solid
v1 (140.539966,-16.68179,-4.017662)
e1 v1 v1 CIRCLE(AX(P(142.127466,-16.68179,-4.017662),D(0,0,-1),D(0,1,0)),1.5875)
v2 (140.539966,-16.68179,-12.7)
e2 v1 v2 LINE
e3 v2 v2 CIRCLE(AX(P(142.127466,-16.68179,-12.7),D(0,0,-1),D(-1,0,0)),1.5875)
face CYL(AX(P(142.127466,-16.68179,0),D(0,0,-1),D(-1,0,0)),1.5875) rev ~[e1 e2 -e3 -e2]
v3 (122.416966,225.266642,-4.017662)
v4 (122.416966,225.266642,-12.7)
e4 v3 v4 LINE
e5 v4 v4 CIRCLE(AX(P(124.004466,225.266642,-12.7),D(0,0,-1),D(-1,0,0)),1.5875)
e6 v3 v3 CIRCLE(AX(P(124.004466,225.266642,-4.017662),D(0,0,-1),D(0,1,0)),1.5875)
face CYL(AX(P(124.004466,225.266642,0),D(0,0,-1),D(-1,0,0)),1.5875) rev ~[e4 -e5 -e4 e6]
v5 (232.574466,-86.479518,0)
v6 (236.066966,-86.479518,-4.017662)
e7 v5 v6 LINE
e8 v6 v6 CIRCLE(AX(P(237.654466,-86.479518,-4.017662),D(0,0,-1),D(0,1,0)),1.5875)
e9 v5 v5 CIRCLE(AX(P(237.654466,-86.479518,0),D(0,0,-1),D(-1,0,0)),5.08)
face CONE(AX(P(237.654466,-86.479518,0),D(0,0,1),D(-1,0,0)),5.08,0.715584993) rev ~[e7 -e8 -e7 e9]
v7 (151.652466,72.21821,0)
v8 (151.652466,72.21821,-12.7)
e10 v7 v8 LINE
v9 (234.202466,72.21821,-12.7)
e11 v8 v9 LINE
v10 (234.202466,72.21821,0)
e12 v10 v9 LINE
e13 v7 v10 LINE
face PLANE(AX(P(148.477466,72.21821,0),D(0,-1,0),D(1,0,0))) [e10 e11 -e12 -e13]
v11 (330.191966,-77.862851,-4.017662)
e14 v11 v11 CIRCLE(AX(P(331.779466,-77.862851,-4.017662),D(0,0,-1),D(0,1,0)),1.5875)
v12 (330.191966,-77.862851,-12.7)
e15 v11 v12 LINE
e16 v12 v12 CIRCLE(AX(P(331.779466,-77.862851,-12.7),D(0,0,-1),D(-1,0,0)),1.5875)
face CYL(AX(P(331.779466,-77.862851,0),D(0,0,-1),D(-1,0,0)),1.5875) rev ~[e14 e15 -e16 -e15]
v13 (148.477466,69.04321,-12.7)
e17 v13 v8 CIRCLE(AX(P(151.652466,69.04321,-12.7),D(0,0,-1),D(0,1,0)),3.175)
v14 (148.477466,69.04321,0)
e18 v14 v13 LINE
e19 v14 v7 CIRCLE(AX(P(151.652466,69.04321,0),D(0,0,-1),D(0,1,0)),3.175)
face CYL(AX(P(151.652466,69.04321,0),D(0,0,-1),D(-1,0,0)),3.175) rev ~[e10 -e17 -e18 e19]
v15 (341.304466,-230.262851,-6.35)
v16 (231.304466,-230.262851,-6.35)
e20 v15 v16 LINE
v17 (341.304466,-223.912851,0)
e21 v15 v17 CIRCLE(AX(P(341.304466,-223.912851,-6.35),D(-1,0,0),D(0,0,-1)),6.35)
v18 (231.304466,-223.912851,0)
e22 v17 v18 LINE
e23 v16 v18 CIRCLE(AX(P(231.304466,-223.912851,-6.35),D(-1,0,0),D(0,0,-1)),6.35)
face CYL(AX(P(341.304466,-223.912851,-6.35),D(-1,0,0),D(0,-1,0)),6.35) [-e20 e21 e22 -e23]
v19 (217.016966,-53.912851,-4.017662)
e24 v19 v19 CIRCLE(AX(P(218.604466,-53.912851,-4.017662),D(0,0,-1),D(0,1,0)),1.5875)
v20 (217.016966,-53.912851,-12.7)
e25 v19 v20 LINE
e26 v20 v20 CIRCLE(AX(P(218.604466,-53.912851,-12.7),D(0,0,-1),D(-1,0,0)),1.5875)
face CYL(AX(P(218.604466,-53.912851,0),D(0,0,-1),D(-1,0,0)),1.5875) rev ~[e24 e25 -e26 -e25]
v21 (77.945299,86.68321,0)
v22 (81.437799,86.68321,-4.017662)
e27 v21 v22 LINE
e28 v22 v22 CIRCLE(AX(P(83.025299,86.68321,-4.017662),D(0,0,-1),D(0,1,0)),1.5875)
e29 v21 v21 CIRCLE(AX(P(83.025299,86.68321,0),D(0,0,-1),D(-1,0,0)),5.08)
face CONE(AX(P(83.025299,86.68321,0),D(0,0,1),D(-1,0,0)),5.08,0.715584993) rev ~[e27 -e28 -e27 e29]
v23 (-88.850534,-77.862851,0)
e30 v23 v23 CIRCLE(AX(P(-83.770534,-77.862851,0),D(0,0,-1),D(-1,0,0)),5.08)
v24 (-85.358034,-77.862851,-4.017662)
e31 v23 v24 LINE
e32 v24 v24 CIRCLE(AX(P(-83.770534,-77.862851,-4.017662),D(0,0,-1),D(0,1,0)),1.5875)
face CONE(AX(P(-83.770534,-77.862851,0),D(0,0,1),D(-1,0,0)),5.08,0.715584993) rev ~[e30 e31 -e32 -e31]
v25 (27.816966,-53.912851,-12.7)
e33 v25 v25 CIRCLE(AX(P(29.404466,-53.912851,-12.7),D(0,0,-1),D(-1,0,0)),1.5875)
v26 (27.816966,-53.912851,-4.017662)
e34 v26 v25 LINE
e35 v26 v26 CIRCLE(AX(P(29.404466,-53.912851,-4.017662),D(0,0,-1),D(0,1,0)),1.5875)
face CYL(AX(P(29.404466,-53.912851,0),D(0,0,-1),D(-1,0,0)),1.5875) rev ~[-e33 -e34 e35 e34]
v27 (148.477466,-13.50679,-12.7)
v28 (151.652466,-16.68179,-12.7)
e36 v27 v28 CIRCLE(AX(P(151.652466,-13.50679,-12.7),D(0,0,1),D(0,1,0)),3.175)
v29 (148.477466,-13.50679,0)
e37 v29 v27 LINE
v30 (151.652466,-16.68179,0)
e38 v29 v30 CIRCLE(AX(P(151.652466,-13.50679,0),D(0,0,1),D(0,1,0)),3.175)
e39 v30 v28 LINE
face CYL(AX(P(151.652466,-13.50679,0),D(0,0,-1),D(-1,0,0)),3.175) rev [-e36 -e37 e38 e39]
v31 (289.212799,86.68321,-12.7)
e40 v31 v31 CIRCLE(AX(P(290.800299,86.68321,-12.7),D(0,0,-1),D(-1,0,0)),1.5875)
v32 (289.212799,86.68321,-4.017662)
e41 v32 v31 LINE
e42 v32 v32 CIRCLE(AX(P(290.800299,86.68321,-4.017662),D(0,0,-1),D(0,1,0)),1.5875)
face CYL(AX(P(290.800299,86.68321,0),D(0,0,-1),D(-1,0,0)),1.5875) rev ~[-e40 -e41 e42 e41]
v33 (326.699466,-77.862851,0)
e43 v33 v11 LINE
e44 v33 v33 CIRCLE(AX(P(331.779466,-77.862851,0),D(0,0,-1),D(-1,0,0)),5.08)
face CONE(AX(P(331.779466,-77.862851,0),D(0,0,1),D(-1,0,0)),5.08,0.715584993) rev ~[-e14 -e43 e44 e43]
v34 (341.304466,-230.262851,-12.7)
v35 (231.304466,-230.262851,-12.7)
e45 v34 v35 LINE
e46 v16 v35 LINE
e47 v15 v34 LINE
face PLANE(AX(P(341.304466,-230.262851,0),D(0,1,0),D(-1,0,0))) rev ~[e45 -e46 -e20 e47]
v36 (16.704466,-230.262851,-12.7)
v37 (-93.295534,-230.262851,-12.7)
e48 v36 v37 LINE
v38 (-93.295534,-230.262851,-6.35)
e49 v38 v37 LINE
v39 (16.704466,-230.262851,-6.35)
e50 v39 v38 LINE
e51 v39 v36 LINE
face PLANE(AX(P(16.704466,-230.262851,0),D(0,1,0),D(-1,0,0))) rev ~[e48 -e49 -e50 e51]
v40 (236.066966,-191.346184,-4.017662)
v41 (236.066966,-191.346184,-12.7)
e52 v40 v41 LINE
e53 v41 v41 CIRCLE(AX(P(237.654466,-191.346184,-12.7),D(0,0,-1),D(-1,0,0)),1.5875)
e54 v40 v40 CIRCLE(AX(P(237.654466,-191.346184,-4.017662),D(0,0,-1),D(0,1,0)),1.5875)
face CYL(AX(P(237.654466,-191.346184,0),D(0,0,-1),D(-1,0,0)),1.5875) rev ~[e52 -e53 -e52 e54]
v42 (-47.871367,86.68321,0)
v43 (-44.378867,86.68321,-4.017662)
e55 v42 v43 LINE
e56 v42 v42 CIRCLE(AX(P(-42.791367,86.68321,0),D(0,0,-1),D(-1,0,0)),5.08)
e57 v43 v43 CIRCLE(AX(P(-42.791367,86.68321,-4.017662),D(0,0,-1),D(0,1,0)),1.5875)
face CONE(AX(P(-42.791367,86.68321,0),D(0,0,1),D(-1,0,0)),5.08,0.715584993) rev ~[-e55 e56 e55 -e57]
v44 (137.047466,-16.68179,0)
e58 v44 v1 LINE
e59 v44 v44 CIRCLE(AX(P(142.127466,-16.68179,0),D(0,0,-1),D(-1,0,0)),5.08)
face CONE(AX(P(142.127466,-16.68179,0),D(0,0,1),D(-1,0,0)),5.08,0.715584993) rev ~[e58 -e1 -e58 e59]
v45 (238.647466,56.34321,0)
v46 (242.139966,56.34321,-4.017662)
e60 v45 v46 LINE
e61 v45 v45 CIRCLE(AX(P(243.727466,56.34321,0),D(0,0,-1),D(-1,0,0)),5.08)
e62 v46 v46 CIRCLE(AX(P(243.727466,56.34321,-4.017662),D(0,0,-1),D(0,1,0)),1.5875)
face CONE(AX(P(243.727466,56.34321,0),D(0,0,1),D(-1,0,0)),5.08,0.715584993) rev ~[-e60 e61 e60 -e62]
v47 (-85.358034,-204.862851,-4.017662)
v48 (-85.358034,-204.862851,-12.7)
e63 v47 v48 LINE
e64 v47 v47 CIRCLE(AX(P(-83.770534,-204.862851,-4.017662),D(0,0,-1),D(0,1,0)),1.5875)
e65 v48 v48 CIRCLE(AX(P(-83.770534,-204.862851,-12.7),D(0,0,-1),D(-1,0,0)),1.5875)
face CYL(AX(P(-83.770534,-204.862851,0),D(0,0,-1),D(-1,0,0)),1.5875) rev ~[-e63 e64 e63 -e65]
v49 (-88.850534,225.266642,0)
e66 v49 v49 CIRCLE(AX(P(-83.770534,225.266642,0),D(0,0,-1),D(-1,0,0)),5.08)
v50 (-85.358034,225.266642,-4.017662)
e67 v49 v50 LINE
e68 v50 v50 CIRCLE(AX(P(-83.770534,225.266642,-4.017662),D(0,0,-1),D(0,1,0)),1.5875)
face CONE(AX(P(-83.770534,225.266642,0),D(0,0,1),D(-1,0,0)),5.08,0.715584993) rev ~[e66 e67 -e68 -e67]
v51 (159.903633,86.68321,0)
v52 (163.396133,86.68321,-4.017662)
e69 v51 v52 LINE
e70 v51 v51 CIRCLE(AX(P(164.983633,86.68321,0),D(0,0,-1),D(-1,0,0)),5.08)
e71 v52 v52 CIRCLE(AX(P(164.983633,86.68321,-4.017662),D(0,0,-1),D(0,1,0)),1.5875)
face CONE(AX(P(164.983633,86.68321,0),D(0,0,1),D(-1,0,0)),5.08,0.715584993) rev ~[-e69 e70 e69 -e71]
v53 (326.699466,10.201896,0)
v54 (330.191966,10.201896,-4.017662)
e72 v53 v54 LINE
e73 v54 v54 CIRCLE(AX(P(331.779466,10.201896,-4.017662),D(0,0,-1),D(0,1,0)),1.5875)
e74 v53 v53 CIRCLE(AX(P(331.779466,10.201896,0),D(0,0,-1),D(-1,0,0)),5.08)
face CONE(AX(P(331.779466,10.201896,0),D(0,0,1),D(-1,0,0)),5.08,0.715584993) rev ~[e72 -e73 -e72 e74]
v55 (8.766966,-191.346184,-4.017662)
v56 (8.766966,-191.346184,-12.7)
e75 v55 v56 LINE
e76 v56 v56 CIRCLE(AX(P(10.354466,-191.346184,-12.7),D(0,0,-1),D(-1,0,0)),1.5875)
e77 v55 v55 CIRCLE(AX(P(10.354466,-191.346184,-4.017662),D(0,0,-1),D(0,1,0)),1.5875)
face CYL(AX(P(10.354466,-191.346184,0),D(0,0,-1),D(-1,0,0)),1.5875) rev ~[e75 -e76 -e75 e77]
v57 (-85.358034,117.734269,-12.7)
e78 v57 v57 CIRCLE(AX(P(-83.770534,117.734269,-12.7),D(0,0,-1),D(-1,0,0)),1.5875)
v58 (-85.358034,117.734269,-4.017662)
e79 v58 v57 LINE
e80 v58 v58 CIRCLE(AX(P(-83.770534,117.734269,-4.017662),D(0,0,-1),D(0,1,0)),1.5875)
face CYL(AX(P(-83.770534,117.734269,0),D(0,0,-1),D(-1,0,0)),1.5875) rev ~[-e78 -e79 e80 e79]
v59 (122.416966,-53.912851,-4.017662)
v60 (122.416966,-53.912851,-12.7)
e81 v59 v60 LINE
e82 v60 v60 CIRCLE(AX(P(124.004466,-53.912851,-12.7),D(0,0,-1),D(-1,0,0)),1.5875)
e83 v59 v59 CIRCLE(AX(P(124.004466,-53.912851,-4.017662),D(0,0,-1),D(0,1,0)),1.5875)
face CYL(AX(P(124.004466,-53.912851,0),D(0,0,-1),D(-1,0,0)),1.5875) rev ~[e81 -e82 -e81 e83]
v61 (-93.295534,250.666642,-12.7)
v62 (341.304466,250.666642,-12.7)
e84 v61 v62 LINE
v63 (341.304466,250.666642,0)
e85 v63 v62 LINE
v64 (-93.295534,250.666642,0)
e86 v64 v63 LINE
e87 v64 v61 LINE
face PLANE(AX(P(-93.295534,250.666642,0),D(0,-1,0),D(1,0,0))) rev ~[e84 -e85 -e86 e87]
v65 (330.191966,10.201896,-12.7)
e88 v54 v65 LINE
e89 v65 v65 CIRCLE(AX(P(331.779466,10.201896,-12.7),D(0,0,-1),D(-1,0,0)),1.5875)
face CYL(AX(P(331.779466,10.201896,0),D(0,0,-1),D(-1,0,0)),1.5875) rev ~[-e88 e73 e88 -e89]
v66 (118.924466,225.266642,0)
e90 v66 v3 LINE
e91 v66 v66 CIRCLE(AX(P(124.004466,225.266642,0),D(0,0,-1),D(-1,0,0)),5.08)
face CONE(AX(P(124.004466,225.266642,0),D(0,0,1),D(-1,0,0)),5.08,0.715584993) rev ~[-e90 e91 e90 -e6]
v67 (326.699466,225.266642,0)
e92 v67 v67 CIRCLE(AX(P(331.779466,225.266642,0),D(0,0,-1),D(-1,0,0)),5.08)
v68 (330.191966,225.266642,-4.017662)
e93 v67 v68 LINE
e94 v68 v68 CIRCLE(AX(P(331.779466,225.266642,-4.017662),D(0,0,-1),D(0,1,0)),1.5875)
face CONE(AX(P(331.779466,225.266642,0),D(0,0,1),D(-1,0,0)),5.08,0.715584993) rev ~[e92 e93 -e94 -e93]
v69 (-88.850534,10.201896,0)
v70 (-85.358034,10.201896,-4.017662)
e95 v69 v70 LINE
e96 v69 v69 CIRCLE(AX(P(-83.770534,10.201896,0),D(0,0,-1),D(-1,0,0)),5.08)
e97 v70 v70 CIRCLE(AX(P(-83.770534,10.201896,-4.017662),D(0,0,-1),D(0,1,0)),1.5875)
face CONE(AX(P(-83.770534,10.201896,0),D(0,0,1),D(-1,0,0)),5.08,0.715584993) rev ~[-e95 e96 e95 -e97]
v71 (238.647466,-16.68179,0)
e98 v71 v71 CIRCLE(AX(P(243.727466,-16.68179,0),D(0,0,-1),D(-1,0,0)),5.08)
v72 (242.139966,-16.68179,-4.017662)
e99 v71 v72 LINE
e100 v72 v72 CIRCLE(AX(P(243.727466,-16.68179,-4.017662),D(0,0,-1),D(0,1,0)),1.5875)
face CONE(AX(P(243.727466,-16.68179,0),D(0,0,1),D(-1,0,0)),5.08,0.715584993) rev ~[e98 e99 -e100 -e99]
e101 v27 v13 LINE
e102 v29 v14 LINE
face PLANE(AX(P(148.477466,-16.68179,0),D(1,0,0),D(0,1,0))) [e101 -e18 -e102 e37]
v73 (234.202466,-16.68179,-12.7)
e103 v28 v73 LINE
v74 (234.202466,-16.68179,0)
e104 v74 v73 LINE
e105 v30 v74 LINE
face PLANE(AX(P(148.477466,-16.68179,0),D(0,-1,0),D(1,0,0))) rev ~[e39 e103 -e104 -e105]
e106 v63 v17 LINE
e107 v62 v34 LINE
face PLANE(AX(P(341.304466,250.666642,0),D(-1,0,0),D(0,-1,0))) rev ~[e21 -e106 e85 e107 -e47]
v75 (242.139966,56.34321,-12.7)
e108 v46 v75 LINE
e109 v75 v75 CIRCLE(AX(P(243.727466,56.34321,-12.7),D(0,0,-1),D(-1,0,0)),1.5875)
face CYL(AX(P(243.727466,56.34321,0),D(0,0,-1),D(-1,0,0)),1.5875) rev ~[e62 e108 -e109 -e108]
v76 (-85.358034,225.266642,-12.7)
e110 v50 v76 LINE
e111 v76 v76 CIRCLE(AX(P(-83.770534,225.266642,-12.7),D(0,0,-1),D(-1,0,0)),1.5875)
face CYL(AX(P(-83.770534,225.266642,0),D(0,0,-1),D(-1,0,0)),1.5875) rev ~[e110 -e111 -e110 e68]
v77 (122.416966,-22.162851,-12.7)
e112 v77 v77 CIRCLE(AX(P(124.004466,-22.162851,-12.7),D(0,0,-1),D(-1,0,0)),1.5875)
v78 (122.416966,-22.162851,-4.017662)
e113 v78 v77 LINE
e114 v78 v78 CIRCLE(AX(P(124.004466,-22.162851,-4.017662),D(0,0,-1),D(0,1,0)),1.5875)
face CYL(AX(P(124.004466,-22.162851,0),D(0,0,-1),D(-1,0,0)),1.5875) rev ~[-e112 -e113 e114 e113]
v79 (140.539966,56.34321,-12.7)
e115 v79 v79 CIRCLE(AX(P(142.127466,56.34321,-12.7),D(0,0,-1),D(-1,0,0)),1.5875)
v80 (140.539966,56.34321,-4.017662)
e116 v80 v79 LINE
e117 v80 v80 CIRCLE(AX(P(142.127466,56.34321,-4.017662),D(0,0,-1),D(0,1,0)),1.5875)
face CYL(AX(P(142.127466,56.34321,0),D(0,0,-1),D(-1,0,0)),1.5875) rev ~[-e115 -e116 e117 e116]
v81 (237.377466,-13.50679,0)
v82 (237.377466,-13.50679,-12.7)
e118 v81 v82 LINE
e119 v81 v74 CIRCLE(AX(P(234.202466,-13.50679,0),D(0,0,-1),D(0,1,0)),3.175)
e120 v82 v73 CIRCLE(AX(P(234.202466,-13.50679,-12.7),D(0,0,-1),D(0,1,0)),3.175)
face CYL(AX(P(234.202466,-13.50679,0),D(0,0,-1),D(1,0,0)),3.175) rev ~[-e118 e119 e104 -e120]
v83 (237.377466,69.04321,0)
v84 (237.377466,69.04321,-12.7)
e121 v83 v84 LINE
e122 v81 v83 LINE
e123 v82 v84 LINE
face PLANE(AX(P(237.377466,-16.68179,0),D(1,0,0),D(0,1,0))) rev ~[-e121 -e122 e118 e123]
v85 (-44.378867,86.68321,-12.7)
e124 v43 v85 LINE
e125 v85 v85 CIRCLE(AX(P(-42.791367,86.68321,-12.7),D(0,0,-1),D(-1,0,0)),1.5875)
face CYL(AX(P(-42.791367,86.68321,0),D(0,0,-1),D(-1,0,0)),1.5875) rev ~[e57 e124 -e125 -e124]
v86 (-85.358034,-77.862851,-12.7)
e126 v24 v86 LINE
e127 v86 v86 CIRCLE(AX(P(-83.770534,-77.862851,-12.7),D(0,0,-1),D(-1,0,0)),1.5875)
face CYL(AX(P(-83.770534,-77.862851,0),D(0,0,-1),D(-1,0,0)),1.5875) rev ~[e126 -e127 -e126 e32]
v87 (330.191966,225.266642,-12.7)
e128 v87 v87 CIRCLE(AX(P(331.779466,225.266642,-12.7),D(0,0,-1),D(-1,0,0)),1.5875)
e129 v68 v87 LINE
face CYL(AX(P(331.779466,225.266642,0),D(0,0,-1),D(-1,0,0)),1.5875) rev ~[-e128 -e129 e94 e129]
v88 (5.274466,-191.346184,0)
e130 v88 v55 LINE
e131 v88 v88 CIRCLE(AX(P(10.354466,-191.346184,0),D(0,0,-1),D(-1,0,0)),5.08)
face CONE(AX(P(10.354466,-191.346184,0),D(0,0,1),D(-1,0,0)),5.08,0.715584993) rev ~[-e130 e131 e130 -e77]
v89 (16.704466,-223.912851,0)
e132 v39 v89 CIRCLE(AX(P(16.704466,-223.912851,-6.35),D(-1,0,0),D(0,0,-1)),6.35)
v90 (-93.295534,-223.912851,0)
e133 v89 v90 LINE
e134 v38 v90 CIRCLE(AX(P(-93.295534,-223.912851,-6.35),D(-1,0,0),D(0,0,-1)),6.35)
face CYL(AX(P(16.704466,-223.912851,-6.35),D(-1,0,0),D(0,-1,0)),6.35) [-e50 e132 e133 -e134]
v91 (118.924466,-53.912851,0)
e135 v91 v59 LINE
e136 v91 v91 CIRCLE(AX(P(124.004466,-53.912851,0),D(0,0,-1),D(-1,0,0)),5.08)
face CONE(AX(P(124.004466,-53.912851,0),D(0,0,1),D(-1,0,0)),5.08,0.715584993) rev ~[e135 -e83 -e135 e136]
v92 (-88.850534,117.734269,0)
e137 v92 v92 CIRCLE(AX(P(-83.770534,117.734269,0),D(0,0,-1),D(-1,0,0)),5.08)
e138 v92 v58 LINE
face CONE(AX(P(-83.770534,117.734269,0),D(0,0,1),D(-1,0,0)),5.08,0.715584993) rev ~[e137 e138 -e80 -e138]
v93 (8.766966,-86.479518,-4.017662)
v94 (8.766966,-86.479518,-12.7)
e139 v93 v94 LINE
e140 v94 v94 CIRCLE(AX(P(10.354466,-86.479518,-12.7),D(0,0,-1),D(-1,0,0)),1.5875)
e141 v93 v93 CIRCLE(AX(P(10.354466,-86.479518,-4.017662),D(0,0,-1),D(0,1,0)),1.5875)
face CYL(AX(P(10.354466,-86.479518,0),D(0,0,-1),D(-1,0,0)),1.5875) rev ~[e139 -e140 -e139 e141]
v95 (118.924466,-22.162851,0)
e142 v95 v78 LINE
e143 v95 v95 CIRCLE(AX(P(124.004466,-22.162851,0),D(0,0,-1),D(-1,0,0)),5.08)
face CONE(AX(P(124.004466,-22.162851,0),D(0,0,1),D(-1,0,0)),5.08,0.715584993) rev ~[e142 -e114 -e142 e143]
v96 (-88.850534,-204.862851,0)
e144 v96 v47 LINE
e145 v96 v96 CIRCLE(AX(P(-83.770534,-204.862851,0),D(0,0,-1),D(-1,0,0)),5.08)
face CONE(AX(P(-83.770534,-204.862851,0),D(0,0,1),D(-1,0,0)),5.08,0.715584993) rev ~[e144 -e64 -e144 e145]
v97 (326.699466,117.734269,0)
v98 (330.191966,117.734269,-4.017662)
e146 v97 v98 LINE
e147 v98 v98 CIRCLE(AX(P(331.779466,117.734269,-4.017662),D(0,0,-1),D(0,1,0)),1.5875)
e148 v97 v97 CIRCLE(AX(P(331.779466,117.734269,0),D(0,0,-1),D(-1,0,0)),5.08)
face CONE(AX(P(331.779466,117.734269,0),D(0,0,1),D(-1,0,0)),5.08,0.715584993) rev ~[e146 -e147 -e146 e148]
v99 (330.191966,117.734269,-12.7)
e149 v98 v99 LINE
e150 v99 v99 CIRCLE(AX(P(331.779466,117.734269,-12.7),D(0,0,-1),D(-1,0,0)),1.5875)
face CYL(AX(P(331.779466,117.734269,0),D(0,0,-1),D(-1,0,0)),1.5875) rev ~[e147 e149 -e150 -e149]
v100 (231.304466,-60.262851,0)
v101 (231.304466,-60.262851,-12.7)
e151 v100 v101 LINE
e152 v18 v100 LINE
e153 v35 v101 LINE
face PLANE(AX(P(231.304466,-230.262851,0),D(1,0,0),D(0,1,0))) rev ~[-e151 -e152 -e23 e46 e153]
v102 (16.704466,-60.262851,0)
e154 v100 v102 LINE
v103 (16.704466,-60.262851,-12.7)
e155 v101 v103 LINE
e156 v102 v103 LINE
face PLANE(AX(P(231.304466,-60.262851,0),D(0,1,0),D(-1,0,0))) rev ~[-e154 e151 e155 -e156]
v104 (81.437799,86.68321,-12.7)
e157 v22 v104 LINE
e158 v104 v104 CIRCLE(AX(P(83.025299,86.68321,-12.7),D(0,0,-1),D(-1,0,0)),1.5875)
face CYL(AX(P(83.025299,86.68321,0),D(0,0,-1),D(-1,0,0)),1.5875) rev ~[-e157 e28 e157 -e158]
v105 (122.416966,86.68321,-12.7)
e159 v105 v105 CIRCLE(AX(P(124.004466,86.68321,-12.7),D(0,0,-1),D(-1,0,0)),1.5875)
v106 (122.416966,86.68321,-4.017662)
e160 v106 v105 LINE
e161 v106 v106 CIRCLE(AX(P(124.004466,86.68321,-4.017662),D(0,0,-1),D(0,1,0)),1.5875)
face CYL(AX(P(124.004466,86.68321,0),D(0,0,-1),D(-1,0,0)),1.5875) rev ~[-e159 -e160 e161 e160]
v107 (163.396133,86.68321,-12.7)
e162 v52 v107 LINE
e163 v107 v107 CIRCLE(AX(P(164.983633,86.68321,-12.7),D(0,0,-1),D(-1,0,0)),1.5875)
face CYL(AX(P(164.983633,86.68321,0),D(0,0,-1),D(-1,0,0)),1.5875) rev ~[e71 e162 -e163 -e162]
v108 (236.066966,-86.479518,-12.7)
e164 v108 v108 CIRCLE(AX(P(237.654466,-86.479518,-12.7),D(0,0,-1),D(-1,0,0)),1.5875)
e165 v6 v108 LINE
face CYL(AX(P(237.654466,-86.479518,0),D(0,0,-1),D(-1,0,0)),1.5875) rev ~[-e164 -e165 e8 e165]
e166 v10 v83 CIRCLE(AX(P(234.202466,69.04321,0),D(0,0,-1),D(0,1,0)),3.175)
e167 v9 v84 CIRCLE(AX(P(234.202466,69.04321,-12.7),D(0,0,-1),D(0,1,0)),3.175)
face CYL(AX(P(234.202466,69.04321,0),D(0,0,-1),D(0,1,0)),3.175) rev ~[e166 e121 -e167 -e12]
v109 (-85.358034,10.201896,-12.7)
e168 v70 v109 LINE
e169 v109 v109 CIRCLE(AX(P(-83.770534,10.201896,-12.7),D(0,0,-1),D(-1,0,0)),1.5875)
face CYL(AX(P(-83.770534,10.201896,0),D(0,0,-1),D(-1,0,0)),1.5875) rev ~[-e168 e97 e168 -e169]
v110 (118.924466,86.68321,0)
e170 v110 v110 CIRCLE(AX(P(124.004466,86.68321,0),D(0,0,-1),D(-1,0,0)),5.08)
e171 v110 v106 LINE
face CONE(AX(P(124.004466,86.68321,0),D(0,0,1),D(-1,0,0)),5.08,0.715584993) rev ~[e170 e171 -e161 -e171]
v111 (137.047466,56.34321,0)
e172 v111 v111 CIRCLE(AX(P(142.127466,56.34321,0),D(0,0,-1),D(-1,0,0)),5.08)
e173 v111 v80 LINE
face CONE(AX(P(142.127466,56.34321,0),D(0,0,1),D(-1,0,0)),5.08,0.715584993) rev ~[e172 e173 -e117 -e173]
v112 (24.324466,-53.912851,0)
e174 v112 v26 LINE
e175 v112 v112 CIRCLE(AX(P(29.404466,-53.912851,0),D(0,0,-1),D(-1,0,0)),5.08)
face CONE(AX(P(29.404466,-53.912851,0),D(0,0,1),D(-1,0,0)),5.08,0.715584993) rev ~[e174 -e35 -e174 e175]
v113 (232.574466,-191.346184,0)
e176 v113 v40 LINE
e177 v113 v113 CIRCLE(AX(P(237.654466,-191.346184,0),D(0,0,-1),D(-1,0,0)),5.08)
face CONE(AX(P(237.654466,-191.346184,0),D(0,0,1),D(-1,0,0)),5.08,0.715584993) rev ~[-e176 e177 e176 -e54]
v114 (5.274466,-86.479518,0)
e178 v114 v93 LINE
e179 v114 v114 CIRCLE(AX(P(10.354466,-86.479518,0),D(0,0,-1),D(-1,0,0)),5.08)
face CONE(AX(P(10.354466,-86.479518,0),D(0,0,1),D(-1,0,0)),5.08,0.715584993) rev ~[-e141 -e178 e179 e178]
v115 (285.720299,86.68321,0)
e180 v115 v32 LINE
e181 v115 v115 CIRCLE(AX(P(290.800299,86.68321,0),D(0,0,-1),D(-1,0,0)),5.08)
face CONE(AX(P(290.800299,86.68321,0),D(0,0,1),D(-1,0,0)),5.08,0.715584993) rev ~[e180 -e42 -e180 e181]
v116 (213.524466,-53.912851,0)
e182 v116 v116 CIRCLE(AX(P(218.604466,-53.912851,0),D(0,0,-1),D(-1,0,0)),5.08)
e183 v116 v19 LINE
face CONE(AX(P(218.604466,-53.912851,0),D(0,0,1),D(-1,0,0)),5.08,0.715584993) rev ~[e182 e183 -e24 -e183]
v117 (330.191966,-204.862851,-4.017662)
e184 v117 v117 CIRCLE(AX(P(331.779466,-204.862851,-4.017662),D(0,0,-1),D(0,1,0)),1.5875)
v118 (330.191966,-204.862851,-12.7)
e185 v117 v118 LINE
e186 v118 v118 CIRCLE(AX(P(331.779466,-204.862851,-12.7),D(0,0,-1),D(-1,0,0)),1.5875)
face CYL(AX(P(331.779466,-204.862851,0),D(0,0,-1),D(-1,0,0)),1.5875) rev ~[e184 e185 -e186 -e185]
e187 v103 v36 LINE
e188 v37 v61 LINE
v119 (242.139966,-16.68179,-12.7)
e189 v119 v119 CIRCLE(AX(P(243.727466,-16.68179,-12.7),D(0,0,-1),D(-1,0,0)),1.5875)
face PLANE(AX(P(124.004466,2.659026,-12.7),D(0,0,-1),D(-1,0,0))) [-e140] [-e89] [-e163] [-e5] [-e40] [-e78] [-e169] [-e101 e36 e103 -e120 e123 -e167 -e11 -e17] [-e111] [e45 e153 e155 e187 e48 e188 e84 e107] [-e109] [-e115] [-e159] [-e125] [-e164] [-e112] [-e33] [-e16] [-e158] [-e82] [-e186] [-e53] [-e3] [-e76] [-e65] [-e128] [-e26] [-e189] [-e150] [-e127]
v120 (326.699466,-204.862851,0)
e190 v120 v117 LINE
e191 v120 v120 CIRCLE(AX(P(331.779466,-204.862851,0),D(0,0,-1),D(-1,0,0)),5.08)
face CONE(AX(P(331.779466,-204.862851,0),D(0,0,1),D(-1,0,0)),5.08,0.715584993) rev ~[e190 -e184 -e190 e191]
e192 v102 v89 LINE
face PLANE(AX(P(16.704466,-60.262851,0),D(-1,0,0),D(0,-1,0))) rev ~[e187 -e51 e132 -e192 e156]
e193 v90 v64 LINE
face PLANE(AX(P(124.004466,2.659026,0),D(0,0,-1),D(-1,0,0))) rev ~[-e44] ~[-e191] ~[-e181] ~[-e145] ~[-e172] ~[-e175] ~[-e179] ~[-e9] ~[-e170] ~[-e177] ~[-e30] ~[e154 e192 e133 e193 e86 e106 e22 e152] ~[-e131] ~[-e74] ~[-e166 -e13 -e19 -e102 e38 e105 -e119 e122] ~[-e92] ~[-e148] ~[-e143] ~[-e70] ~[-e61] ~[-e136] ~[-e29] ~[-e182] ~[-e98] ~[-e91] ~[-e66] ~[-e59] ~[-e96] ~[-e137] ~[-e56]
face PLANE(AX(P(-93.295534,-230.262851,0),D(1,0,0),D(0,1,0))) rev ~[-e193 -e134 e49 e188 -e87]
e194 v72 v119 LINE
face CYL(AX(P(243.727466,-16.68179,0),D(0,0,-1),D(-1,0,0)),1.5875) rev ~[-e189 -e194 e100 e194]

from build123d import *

# Parameters (mm, degrees)
BOSS_EXTRUDE1_DEPTH = 12.7
FILLET1_R           = 6.35
HOLE1_D             = 3.175
HOLE1_DEPTH         = 12.7
HOLE1_CSINK_D       = 10.16
HOLE1_CSINK_ANGLE   = 82
HOLE1_TIP           = 0.953866233
HOLE2_D             = 3.175
HOLE2_DEPTH         = 31.75
HOLE2_CSINK_D       = 10.16
HOLE2_CSINK_ANGLE   = 82
HOLE2_TIP           = 0.953866233
CUT_EXTRUDE1_REACH  = 14.7
SKETCH6_W           = 88.9
SKETCH6_H           = 88.9
FILLET2_R           = 3.175
HOLE3_D             = 3.175
HOLE3_DEPTH         = 31.75
HOLE3_CSINK_D       = 10.16
HOLE3_CSINK_ANGLE   = 82
HOLE3_TIP           = 0.953866233


with BuildPart() as part:
    # Sketch1 → Boss-Extrude1 (new body)
    with BuildSketch(Plane.XY):
        Polygon((16.704465975, -230.262851166), (-93.295534025, -230.262851166), (-93.295534025, 250.666642396), (341.304465963, 250.666642396), (341.304465963, -230.262851166), (231.304465963, -230.262851166), (231.304465963, -60.262851166), (16.704465975, -60.262851166), align=None)
    extrude(amount=-BOSS_EXTRUDE1_DEPTH)

    # Fillet1
    fillet1_edges = [part.edges().sort_by_distance(p)[0] for p in [
        (286.304465963, -230.262851166, 0),
        (-38.295534025, -230.262851166, 0),
    ]]
    fillet(fillet1_edges, radius=FILLET1_R)

    # Hole1
    with Locations(Plane.XY):
        with Locations((218.604465963, -53.912851166), (331.779465963, -204.862851166), (331.779465963, 10.201895615), (331.779465963, 225.266642396), (331.779465963, 117.734269005), (331.779465963, -77.862851166), (164.983632635, 86.68320968), (290.800299298, 86.68320968), (237.654465963, -86.479517833), (237.654465963, -191.3461845), (124.004465969, 86.68320968), (124.004465969, 225.266642396), (124.004465969, -22.162851166), (10.354465975, -191.3461845), (10.354465975, -86.479517833), (-42.791367359, 86.68320968), (83.025299304, 86.68320968), (-83.770534025, -77.862851166), (-83.770534025, 117.734269005), (-83.770534025, 225.266642396), (-83.770534025, 10.201895615), (-83.770534025, -204.862851166), (124.004465969, -53.912851166), (29.404465975, -53.912851166)):
            CounterSinkHole(HOLE1_D / 2, HOLE1_CSINK_D / 2, depth=HOLE1_DEPTH, counter_sink_angle=HOLE1_CSINK_ANGLE)
            with Locations((0, 0, -(HOLE1_DEPTH + HOLE1_TIP / 2))):  # 118° drill point
                Cone(0, HOLE1_D / 2, HOLE1_TIP, mode=Mode.SUBTRACT)

    # Hole2
    with Locations(Plane(origin=(124.004465969, -215.287141225, 0), x_dir=(1, 0, 0), z_dir=(0, 0, 1))):
        with Locations((113.649999994, 128.807623392), (113.649999994, 23.940956725), (-94.599999994, 161.374290059), (94.599999994, 161.374290059), (0, 161.374290059), (0, 193.124290059), (0, 440.553783621), (0, 301.970350905), (40.979166666, 301.970350905), (166.795833328, 301.970350905), (207.774999994, 440.553783621), (207.774999994, 333.02141023), (207.774999994, 225.48903684), (207.774999994, 137.424290059), (207.774999994, 10.424290059), (-207.774999994, 10.424290059), (-207.774999994, 137.424290059), (-207.774999994, 225.48903684), (-207.774999994, 333.02141023), (-207.774999994, 440.553783621), (-166.795833328, 301.970350905), (-40.979166666, 301.970350905), (-113.649999994, 23.940956725), (-113.649999994, 128.807623392)):
            CounterSinkHole(HOLE2_D / 2, HOLE2_CSINK_D / 2, depth=HOLE2_DEPTH, counter_sink_angle=HOLE2_CSINK_ANGLE)
            with Locations((0, 0, -(HOLE2_DEPTH + HOLE2_TIP / 2))):  # 118° drill point
                Cone(0, HOLE2_D / 2, HOLE2_TIP, mode=Mode.SUBTRACT)

    # Sketch6 → Cut-Extrude1 (cut, up to next)
    with BuildSketch(Plane.XY, mode=Mode.PRIVATE) as cut_extrude1_sk1:
        with Locations((192.927465963, 27.76820968)):
            Rectangle(SKETCH6_W, SKETCH6_H)
    cut_extrude1_tool1 = extrude(cut_extrude1_sk1.sketch, amount=-CUT_EXTRUDE1_REACH, mode=Mode.PRIVATE) & part.part
    add(cut_extrude1_tool1.solids().sort_by_distance((192.927466, 27.76821, 0))[0], mode=Mode.SUBTRACT)

    # Fillet2
    fillet2_edges = [part.edges().sort_by_distance(p)[0] for p in [
        (148.477465963, -16.68179032, -6.35),
        (148.477465963, 72.21820968, -6.35),
        (237.377465963, 72.21820968, -6.35),
        (237.377465963, -16.68179032, -6.35),
    ]]
    fillet(fillet2_edges, radius=FILLET2_R)

    # Hole3
    with Locations(Plane(origin=(124.004465969, -215.287141225, 0), x_dir=(1, 0, 0), z_dir=(0, 0, 1))):
        with Locations((113.649999994, 128.807623392), (113.649999994, 23.940956725), (-94.599999994, 161.374290059), (94.599999994, 161.374290059), (0, 161.374290059), (0, 193.124290059), (0, 440.553783621), (0, 301.970350905), (40.979166666, 301.970350905), (166.795833328, 301.970350905), (207.774999994, 440.553783621), (207.774999994, 333.02141023), (207.774999994, 225.48903684), (207.774999994, 137.424290059), (207.774999994, 10.424290059), (-207.774999994, 10.424290059), (-207.774999994, 137.424290059), (-207.774999994, 225.48903684), (-207.774999994, 333.02141023), (-207.774999994, 440.553783621), (-166.795833328, 301.970350905), (-40.979166666, 301.970350905), (-113.649999994, 23.940956725), (-113.649999994, 128.807623392), (119.722999994, 198.605350905), (119.722999994, 271.630350905), (18.122999994, 198.605350905), (18.122999994, 271.630350905)):
            CounterSinkHole(HOLE3_D / 2, HOLE3_CSINK_D / 2, depth=HOLE3_DEPTH, counter_sink_angle=HOLE3_CSINK_ANGLE)
            with Locations((0, 0, -(HOLE3_DEPTH + HOLE3_TIP / 2))):  # 118° drill point
                Cone(0, HOLE3_D / 2, HOLE3_TIP, mode=Mode.SUBTRACT)


solid = part.part
